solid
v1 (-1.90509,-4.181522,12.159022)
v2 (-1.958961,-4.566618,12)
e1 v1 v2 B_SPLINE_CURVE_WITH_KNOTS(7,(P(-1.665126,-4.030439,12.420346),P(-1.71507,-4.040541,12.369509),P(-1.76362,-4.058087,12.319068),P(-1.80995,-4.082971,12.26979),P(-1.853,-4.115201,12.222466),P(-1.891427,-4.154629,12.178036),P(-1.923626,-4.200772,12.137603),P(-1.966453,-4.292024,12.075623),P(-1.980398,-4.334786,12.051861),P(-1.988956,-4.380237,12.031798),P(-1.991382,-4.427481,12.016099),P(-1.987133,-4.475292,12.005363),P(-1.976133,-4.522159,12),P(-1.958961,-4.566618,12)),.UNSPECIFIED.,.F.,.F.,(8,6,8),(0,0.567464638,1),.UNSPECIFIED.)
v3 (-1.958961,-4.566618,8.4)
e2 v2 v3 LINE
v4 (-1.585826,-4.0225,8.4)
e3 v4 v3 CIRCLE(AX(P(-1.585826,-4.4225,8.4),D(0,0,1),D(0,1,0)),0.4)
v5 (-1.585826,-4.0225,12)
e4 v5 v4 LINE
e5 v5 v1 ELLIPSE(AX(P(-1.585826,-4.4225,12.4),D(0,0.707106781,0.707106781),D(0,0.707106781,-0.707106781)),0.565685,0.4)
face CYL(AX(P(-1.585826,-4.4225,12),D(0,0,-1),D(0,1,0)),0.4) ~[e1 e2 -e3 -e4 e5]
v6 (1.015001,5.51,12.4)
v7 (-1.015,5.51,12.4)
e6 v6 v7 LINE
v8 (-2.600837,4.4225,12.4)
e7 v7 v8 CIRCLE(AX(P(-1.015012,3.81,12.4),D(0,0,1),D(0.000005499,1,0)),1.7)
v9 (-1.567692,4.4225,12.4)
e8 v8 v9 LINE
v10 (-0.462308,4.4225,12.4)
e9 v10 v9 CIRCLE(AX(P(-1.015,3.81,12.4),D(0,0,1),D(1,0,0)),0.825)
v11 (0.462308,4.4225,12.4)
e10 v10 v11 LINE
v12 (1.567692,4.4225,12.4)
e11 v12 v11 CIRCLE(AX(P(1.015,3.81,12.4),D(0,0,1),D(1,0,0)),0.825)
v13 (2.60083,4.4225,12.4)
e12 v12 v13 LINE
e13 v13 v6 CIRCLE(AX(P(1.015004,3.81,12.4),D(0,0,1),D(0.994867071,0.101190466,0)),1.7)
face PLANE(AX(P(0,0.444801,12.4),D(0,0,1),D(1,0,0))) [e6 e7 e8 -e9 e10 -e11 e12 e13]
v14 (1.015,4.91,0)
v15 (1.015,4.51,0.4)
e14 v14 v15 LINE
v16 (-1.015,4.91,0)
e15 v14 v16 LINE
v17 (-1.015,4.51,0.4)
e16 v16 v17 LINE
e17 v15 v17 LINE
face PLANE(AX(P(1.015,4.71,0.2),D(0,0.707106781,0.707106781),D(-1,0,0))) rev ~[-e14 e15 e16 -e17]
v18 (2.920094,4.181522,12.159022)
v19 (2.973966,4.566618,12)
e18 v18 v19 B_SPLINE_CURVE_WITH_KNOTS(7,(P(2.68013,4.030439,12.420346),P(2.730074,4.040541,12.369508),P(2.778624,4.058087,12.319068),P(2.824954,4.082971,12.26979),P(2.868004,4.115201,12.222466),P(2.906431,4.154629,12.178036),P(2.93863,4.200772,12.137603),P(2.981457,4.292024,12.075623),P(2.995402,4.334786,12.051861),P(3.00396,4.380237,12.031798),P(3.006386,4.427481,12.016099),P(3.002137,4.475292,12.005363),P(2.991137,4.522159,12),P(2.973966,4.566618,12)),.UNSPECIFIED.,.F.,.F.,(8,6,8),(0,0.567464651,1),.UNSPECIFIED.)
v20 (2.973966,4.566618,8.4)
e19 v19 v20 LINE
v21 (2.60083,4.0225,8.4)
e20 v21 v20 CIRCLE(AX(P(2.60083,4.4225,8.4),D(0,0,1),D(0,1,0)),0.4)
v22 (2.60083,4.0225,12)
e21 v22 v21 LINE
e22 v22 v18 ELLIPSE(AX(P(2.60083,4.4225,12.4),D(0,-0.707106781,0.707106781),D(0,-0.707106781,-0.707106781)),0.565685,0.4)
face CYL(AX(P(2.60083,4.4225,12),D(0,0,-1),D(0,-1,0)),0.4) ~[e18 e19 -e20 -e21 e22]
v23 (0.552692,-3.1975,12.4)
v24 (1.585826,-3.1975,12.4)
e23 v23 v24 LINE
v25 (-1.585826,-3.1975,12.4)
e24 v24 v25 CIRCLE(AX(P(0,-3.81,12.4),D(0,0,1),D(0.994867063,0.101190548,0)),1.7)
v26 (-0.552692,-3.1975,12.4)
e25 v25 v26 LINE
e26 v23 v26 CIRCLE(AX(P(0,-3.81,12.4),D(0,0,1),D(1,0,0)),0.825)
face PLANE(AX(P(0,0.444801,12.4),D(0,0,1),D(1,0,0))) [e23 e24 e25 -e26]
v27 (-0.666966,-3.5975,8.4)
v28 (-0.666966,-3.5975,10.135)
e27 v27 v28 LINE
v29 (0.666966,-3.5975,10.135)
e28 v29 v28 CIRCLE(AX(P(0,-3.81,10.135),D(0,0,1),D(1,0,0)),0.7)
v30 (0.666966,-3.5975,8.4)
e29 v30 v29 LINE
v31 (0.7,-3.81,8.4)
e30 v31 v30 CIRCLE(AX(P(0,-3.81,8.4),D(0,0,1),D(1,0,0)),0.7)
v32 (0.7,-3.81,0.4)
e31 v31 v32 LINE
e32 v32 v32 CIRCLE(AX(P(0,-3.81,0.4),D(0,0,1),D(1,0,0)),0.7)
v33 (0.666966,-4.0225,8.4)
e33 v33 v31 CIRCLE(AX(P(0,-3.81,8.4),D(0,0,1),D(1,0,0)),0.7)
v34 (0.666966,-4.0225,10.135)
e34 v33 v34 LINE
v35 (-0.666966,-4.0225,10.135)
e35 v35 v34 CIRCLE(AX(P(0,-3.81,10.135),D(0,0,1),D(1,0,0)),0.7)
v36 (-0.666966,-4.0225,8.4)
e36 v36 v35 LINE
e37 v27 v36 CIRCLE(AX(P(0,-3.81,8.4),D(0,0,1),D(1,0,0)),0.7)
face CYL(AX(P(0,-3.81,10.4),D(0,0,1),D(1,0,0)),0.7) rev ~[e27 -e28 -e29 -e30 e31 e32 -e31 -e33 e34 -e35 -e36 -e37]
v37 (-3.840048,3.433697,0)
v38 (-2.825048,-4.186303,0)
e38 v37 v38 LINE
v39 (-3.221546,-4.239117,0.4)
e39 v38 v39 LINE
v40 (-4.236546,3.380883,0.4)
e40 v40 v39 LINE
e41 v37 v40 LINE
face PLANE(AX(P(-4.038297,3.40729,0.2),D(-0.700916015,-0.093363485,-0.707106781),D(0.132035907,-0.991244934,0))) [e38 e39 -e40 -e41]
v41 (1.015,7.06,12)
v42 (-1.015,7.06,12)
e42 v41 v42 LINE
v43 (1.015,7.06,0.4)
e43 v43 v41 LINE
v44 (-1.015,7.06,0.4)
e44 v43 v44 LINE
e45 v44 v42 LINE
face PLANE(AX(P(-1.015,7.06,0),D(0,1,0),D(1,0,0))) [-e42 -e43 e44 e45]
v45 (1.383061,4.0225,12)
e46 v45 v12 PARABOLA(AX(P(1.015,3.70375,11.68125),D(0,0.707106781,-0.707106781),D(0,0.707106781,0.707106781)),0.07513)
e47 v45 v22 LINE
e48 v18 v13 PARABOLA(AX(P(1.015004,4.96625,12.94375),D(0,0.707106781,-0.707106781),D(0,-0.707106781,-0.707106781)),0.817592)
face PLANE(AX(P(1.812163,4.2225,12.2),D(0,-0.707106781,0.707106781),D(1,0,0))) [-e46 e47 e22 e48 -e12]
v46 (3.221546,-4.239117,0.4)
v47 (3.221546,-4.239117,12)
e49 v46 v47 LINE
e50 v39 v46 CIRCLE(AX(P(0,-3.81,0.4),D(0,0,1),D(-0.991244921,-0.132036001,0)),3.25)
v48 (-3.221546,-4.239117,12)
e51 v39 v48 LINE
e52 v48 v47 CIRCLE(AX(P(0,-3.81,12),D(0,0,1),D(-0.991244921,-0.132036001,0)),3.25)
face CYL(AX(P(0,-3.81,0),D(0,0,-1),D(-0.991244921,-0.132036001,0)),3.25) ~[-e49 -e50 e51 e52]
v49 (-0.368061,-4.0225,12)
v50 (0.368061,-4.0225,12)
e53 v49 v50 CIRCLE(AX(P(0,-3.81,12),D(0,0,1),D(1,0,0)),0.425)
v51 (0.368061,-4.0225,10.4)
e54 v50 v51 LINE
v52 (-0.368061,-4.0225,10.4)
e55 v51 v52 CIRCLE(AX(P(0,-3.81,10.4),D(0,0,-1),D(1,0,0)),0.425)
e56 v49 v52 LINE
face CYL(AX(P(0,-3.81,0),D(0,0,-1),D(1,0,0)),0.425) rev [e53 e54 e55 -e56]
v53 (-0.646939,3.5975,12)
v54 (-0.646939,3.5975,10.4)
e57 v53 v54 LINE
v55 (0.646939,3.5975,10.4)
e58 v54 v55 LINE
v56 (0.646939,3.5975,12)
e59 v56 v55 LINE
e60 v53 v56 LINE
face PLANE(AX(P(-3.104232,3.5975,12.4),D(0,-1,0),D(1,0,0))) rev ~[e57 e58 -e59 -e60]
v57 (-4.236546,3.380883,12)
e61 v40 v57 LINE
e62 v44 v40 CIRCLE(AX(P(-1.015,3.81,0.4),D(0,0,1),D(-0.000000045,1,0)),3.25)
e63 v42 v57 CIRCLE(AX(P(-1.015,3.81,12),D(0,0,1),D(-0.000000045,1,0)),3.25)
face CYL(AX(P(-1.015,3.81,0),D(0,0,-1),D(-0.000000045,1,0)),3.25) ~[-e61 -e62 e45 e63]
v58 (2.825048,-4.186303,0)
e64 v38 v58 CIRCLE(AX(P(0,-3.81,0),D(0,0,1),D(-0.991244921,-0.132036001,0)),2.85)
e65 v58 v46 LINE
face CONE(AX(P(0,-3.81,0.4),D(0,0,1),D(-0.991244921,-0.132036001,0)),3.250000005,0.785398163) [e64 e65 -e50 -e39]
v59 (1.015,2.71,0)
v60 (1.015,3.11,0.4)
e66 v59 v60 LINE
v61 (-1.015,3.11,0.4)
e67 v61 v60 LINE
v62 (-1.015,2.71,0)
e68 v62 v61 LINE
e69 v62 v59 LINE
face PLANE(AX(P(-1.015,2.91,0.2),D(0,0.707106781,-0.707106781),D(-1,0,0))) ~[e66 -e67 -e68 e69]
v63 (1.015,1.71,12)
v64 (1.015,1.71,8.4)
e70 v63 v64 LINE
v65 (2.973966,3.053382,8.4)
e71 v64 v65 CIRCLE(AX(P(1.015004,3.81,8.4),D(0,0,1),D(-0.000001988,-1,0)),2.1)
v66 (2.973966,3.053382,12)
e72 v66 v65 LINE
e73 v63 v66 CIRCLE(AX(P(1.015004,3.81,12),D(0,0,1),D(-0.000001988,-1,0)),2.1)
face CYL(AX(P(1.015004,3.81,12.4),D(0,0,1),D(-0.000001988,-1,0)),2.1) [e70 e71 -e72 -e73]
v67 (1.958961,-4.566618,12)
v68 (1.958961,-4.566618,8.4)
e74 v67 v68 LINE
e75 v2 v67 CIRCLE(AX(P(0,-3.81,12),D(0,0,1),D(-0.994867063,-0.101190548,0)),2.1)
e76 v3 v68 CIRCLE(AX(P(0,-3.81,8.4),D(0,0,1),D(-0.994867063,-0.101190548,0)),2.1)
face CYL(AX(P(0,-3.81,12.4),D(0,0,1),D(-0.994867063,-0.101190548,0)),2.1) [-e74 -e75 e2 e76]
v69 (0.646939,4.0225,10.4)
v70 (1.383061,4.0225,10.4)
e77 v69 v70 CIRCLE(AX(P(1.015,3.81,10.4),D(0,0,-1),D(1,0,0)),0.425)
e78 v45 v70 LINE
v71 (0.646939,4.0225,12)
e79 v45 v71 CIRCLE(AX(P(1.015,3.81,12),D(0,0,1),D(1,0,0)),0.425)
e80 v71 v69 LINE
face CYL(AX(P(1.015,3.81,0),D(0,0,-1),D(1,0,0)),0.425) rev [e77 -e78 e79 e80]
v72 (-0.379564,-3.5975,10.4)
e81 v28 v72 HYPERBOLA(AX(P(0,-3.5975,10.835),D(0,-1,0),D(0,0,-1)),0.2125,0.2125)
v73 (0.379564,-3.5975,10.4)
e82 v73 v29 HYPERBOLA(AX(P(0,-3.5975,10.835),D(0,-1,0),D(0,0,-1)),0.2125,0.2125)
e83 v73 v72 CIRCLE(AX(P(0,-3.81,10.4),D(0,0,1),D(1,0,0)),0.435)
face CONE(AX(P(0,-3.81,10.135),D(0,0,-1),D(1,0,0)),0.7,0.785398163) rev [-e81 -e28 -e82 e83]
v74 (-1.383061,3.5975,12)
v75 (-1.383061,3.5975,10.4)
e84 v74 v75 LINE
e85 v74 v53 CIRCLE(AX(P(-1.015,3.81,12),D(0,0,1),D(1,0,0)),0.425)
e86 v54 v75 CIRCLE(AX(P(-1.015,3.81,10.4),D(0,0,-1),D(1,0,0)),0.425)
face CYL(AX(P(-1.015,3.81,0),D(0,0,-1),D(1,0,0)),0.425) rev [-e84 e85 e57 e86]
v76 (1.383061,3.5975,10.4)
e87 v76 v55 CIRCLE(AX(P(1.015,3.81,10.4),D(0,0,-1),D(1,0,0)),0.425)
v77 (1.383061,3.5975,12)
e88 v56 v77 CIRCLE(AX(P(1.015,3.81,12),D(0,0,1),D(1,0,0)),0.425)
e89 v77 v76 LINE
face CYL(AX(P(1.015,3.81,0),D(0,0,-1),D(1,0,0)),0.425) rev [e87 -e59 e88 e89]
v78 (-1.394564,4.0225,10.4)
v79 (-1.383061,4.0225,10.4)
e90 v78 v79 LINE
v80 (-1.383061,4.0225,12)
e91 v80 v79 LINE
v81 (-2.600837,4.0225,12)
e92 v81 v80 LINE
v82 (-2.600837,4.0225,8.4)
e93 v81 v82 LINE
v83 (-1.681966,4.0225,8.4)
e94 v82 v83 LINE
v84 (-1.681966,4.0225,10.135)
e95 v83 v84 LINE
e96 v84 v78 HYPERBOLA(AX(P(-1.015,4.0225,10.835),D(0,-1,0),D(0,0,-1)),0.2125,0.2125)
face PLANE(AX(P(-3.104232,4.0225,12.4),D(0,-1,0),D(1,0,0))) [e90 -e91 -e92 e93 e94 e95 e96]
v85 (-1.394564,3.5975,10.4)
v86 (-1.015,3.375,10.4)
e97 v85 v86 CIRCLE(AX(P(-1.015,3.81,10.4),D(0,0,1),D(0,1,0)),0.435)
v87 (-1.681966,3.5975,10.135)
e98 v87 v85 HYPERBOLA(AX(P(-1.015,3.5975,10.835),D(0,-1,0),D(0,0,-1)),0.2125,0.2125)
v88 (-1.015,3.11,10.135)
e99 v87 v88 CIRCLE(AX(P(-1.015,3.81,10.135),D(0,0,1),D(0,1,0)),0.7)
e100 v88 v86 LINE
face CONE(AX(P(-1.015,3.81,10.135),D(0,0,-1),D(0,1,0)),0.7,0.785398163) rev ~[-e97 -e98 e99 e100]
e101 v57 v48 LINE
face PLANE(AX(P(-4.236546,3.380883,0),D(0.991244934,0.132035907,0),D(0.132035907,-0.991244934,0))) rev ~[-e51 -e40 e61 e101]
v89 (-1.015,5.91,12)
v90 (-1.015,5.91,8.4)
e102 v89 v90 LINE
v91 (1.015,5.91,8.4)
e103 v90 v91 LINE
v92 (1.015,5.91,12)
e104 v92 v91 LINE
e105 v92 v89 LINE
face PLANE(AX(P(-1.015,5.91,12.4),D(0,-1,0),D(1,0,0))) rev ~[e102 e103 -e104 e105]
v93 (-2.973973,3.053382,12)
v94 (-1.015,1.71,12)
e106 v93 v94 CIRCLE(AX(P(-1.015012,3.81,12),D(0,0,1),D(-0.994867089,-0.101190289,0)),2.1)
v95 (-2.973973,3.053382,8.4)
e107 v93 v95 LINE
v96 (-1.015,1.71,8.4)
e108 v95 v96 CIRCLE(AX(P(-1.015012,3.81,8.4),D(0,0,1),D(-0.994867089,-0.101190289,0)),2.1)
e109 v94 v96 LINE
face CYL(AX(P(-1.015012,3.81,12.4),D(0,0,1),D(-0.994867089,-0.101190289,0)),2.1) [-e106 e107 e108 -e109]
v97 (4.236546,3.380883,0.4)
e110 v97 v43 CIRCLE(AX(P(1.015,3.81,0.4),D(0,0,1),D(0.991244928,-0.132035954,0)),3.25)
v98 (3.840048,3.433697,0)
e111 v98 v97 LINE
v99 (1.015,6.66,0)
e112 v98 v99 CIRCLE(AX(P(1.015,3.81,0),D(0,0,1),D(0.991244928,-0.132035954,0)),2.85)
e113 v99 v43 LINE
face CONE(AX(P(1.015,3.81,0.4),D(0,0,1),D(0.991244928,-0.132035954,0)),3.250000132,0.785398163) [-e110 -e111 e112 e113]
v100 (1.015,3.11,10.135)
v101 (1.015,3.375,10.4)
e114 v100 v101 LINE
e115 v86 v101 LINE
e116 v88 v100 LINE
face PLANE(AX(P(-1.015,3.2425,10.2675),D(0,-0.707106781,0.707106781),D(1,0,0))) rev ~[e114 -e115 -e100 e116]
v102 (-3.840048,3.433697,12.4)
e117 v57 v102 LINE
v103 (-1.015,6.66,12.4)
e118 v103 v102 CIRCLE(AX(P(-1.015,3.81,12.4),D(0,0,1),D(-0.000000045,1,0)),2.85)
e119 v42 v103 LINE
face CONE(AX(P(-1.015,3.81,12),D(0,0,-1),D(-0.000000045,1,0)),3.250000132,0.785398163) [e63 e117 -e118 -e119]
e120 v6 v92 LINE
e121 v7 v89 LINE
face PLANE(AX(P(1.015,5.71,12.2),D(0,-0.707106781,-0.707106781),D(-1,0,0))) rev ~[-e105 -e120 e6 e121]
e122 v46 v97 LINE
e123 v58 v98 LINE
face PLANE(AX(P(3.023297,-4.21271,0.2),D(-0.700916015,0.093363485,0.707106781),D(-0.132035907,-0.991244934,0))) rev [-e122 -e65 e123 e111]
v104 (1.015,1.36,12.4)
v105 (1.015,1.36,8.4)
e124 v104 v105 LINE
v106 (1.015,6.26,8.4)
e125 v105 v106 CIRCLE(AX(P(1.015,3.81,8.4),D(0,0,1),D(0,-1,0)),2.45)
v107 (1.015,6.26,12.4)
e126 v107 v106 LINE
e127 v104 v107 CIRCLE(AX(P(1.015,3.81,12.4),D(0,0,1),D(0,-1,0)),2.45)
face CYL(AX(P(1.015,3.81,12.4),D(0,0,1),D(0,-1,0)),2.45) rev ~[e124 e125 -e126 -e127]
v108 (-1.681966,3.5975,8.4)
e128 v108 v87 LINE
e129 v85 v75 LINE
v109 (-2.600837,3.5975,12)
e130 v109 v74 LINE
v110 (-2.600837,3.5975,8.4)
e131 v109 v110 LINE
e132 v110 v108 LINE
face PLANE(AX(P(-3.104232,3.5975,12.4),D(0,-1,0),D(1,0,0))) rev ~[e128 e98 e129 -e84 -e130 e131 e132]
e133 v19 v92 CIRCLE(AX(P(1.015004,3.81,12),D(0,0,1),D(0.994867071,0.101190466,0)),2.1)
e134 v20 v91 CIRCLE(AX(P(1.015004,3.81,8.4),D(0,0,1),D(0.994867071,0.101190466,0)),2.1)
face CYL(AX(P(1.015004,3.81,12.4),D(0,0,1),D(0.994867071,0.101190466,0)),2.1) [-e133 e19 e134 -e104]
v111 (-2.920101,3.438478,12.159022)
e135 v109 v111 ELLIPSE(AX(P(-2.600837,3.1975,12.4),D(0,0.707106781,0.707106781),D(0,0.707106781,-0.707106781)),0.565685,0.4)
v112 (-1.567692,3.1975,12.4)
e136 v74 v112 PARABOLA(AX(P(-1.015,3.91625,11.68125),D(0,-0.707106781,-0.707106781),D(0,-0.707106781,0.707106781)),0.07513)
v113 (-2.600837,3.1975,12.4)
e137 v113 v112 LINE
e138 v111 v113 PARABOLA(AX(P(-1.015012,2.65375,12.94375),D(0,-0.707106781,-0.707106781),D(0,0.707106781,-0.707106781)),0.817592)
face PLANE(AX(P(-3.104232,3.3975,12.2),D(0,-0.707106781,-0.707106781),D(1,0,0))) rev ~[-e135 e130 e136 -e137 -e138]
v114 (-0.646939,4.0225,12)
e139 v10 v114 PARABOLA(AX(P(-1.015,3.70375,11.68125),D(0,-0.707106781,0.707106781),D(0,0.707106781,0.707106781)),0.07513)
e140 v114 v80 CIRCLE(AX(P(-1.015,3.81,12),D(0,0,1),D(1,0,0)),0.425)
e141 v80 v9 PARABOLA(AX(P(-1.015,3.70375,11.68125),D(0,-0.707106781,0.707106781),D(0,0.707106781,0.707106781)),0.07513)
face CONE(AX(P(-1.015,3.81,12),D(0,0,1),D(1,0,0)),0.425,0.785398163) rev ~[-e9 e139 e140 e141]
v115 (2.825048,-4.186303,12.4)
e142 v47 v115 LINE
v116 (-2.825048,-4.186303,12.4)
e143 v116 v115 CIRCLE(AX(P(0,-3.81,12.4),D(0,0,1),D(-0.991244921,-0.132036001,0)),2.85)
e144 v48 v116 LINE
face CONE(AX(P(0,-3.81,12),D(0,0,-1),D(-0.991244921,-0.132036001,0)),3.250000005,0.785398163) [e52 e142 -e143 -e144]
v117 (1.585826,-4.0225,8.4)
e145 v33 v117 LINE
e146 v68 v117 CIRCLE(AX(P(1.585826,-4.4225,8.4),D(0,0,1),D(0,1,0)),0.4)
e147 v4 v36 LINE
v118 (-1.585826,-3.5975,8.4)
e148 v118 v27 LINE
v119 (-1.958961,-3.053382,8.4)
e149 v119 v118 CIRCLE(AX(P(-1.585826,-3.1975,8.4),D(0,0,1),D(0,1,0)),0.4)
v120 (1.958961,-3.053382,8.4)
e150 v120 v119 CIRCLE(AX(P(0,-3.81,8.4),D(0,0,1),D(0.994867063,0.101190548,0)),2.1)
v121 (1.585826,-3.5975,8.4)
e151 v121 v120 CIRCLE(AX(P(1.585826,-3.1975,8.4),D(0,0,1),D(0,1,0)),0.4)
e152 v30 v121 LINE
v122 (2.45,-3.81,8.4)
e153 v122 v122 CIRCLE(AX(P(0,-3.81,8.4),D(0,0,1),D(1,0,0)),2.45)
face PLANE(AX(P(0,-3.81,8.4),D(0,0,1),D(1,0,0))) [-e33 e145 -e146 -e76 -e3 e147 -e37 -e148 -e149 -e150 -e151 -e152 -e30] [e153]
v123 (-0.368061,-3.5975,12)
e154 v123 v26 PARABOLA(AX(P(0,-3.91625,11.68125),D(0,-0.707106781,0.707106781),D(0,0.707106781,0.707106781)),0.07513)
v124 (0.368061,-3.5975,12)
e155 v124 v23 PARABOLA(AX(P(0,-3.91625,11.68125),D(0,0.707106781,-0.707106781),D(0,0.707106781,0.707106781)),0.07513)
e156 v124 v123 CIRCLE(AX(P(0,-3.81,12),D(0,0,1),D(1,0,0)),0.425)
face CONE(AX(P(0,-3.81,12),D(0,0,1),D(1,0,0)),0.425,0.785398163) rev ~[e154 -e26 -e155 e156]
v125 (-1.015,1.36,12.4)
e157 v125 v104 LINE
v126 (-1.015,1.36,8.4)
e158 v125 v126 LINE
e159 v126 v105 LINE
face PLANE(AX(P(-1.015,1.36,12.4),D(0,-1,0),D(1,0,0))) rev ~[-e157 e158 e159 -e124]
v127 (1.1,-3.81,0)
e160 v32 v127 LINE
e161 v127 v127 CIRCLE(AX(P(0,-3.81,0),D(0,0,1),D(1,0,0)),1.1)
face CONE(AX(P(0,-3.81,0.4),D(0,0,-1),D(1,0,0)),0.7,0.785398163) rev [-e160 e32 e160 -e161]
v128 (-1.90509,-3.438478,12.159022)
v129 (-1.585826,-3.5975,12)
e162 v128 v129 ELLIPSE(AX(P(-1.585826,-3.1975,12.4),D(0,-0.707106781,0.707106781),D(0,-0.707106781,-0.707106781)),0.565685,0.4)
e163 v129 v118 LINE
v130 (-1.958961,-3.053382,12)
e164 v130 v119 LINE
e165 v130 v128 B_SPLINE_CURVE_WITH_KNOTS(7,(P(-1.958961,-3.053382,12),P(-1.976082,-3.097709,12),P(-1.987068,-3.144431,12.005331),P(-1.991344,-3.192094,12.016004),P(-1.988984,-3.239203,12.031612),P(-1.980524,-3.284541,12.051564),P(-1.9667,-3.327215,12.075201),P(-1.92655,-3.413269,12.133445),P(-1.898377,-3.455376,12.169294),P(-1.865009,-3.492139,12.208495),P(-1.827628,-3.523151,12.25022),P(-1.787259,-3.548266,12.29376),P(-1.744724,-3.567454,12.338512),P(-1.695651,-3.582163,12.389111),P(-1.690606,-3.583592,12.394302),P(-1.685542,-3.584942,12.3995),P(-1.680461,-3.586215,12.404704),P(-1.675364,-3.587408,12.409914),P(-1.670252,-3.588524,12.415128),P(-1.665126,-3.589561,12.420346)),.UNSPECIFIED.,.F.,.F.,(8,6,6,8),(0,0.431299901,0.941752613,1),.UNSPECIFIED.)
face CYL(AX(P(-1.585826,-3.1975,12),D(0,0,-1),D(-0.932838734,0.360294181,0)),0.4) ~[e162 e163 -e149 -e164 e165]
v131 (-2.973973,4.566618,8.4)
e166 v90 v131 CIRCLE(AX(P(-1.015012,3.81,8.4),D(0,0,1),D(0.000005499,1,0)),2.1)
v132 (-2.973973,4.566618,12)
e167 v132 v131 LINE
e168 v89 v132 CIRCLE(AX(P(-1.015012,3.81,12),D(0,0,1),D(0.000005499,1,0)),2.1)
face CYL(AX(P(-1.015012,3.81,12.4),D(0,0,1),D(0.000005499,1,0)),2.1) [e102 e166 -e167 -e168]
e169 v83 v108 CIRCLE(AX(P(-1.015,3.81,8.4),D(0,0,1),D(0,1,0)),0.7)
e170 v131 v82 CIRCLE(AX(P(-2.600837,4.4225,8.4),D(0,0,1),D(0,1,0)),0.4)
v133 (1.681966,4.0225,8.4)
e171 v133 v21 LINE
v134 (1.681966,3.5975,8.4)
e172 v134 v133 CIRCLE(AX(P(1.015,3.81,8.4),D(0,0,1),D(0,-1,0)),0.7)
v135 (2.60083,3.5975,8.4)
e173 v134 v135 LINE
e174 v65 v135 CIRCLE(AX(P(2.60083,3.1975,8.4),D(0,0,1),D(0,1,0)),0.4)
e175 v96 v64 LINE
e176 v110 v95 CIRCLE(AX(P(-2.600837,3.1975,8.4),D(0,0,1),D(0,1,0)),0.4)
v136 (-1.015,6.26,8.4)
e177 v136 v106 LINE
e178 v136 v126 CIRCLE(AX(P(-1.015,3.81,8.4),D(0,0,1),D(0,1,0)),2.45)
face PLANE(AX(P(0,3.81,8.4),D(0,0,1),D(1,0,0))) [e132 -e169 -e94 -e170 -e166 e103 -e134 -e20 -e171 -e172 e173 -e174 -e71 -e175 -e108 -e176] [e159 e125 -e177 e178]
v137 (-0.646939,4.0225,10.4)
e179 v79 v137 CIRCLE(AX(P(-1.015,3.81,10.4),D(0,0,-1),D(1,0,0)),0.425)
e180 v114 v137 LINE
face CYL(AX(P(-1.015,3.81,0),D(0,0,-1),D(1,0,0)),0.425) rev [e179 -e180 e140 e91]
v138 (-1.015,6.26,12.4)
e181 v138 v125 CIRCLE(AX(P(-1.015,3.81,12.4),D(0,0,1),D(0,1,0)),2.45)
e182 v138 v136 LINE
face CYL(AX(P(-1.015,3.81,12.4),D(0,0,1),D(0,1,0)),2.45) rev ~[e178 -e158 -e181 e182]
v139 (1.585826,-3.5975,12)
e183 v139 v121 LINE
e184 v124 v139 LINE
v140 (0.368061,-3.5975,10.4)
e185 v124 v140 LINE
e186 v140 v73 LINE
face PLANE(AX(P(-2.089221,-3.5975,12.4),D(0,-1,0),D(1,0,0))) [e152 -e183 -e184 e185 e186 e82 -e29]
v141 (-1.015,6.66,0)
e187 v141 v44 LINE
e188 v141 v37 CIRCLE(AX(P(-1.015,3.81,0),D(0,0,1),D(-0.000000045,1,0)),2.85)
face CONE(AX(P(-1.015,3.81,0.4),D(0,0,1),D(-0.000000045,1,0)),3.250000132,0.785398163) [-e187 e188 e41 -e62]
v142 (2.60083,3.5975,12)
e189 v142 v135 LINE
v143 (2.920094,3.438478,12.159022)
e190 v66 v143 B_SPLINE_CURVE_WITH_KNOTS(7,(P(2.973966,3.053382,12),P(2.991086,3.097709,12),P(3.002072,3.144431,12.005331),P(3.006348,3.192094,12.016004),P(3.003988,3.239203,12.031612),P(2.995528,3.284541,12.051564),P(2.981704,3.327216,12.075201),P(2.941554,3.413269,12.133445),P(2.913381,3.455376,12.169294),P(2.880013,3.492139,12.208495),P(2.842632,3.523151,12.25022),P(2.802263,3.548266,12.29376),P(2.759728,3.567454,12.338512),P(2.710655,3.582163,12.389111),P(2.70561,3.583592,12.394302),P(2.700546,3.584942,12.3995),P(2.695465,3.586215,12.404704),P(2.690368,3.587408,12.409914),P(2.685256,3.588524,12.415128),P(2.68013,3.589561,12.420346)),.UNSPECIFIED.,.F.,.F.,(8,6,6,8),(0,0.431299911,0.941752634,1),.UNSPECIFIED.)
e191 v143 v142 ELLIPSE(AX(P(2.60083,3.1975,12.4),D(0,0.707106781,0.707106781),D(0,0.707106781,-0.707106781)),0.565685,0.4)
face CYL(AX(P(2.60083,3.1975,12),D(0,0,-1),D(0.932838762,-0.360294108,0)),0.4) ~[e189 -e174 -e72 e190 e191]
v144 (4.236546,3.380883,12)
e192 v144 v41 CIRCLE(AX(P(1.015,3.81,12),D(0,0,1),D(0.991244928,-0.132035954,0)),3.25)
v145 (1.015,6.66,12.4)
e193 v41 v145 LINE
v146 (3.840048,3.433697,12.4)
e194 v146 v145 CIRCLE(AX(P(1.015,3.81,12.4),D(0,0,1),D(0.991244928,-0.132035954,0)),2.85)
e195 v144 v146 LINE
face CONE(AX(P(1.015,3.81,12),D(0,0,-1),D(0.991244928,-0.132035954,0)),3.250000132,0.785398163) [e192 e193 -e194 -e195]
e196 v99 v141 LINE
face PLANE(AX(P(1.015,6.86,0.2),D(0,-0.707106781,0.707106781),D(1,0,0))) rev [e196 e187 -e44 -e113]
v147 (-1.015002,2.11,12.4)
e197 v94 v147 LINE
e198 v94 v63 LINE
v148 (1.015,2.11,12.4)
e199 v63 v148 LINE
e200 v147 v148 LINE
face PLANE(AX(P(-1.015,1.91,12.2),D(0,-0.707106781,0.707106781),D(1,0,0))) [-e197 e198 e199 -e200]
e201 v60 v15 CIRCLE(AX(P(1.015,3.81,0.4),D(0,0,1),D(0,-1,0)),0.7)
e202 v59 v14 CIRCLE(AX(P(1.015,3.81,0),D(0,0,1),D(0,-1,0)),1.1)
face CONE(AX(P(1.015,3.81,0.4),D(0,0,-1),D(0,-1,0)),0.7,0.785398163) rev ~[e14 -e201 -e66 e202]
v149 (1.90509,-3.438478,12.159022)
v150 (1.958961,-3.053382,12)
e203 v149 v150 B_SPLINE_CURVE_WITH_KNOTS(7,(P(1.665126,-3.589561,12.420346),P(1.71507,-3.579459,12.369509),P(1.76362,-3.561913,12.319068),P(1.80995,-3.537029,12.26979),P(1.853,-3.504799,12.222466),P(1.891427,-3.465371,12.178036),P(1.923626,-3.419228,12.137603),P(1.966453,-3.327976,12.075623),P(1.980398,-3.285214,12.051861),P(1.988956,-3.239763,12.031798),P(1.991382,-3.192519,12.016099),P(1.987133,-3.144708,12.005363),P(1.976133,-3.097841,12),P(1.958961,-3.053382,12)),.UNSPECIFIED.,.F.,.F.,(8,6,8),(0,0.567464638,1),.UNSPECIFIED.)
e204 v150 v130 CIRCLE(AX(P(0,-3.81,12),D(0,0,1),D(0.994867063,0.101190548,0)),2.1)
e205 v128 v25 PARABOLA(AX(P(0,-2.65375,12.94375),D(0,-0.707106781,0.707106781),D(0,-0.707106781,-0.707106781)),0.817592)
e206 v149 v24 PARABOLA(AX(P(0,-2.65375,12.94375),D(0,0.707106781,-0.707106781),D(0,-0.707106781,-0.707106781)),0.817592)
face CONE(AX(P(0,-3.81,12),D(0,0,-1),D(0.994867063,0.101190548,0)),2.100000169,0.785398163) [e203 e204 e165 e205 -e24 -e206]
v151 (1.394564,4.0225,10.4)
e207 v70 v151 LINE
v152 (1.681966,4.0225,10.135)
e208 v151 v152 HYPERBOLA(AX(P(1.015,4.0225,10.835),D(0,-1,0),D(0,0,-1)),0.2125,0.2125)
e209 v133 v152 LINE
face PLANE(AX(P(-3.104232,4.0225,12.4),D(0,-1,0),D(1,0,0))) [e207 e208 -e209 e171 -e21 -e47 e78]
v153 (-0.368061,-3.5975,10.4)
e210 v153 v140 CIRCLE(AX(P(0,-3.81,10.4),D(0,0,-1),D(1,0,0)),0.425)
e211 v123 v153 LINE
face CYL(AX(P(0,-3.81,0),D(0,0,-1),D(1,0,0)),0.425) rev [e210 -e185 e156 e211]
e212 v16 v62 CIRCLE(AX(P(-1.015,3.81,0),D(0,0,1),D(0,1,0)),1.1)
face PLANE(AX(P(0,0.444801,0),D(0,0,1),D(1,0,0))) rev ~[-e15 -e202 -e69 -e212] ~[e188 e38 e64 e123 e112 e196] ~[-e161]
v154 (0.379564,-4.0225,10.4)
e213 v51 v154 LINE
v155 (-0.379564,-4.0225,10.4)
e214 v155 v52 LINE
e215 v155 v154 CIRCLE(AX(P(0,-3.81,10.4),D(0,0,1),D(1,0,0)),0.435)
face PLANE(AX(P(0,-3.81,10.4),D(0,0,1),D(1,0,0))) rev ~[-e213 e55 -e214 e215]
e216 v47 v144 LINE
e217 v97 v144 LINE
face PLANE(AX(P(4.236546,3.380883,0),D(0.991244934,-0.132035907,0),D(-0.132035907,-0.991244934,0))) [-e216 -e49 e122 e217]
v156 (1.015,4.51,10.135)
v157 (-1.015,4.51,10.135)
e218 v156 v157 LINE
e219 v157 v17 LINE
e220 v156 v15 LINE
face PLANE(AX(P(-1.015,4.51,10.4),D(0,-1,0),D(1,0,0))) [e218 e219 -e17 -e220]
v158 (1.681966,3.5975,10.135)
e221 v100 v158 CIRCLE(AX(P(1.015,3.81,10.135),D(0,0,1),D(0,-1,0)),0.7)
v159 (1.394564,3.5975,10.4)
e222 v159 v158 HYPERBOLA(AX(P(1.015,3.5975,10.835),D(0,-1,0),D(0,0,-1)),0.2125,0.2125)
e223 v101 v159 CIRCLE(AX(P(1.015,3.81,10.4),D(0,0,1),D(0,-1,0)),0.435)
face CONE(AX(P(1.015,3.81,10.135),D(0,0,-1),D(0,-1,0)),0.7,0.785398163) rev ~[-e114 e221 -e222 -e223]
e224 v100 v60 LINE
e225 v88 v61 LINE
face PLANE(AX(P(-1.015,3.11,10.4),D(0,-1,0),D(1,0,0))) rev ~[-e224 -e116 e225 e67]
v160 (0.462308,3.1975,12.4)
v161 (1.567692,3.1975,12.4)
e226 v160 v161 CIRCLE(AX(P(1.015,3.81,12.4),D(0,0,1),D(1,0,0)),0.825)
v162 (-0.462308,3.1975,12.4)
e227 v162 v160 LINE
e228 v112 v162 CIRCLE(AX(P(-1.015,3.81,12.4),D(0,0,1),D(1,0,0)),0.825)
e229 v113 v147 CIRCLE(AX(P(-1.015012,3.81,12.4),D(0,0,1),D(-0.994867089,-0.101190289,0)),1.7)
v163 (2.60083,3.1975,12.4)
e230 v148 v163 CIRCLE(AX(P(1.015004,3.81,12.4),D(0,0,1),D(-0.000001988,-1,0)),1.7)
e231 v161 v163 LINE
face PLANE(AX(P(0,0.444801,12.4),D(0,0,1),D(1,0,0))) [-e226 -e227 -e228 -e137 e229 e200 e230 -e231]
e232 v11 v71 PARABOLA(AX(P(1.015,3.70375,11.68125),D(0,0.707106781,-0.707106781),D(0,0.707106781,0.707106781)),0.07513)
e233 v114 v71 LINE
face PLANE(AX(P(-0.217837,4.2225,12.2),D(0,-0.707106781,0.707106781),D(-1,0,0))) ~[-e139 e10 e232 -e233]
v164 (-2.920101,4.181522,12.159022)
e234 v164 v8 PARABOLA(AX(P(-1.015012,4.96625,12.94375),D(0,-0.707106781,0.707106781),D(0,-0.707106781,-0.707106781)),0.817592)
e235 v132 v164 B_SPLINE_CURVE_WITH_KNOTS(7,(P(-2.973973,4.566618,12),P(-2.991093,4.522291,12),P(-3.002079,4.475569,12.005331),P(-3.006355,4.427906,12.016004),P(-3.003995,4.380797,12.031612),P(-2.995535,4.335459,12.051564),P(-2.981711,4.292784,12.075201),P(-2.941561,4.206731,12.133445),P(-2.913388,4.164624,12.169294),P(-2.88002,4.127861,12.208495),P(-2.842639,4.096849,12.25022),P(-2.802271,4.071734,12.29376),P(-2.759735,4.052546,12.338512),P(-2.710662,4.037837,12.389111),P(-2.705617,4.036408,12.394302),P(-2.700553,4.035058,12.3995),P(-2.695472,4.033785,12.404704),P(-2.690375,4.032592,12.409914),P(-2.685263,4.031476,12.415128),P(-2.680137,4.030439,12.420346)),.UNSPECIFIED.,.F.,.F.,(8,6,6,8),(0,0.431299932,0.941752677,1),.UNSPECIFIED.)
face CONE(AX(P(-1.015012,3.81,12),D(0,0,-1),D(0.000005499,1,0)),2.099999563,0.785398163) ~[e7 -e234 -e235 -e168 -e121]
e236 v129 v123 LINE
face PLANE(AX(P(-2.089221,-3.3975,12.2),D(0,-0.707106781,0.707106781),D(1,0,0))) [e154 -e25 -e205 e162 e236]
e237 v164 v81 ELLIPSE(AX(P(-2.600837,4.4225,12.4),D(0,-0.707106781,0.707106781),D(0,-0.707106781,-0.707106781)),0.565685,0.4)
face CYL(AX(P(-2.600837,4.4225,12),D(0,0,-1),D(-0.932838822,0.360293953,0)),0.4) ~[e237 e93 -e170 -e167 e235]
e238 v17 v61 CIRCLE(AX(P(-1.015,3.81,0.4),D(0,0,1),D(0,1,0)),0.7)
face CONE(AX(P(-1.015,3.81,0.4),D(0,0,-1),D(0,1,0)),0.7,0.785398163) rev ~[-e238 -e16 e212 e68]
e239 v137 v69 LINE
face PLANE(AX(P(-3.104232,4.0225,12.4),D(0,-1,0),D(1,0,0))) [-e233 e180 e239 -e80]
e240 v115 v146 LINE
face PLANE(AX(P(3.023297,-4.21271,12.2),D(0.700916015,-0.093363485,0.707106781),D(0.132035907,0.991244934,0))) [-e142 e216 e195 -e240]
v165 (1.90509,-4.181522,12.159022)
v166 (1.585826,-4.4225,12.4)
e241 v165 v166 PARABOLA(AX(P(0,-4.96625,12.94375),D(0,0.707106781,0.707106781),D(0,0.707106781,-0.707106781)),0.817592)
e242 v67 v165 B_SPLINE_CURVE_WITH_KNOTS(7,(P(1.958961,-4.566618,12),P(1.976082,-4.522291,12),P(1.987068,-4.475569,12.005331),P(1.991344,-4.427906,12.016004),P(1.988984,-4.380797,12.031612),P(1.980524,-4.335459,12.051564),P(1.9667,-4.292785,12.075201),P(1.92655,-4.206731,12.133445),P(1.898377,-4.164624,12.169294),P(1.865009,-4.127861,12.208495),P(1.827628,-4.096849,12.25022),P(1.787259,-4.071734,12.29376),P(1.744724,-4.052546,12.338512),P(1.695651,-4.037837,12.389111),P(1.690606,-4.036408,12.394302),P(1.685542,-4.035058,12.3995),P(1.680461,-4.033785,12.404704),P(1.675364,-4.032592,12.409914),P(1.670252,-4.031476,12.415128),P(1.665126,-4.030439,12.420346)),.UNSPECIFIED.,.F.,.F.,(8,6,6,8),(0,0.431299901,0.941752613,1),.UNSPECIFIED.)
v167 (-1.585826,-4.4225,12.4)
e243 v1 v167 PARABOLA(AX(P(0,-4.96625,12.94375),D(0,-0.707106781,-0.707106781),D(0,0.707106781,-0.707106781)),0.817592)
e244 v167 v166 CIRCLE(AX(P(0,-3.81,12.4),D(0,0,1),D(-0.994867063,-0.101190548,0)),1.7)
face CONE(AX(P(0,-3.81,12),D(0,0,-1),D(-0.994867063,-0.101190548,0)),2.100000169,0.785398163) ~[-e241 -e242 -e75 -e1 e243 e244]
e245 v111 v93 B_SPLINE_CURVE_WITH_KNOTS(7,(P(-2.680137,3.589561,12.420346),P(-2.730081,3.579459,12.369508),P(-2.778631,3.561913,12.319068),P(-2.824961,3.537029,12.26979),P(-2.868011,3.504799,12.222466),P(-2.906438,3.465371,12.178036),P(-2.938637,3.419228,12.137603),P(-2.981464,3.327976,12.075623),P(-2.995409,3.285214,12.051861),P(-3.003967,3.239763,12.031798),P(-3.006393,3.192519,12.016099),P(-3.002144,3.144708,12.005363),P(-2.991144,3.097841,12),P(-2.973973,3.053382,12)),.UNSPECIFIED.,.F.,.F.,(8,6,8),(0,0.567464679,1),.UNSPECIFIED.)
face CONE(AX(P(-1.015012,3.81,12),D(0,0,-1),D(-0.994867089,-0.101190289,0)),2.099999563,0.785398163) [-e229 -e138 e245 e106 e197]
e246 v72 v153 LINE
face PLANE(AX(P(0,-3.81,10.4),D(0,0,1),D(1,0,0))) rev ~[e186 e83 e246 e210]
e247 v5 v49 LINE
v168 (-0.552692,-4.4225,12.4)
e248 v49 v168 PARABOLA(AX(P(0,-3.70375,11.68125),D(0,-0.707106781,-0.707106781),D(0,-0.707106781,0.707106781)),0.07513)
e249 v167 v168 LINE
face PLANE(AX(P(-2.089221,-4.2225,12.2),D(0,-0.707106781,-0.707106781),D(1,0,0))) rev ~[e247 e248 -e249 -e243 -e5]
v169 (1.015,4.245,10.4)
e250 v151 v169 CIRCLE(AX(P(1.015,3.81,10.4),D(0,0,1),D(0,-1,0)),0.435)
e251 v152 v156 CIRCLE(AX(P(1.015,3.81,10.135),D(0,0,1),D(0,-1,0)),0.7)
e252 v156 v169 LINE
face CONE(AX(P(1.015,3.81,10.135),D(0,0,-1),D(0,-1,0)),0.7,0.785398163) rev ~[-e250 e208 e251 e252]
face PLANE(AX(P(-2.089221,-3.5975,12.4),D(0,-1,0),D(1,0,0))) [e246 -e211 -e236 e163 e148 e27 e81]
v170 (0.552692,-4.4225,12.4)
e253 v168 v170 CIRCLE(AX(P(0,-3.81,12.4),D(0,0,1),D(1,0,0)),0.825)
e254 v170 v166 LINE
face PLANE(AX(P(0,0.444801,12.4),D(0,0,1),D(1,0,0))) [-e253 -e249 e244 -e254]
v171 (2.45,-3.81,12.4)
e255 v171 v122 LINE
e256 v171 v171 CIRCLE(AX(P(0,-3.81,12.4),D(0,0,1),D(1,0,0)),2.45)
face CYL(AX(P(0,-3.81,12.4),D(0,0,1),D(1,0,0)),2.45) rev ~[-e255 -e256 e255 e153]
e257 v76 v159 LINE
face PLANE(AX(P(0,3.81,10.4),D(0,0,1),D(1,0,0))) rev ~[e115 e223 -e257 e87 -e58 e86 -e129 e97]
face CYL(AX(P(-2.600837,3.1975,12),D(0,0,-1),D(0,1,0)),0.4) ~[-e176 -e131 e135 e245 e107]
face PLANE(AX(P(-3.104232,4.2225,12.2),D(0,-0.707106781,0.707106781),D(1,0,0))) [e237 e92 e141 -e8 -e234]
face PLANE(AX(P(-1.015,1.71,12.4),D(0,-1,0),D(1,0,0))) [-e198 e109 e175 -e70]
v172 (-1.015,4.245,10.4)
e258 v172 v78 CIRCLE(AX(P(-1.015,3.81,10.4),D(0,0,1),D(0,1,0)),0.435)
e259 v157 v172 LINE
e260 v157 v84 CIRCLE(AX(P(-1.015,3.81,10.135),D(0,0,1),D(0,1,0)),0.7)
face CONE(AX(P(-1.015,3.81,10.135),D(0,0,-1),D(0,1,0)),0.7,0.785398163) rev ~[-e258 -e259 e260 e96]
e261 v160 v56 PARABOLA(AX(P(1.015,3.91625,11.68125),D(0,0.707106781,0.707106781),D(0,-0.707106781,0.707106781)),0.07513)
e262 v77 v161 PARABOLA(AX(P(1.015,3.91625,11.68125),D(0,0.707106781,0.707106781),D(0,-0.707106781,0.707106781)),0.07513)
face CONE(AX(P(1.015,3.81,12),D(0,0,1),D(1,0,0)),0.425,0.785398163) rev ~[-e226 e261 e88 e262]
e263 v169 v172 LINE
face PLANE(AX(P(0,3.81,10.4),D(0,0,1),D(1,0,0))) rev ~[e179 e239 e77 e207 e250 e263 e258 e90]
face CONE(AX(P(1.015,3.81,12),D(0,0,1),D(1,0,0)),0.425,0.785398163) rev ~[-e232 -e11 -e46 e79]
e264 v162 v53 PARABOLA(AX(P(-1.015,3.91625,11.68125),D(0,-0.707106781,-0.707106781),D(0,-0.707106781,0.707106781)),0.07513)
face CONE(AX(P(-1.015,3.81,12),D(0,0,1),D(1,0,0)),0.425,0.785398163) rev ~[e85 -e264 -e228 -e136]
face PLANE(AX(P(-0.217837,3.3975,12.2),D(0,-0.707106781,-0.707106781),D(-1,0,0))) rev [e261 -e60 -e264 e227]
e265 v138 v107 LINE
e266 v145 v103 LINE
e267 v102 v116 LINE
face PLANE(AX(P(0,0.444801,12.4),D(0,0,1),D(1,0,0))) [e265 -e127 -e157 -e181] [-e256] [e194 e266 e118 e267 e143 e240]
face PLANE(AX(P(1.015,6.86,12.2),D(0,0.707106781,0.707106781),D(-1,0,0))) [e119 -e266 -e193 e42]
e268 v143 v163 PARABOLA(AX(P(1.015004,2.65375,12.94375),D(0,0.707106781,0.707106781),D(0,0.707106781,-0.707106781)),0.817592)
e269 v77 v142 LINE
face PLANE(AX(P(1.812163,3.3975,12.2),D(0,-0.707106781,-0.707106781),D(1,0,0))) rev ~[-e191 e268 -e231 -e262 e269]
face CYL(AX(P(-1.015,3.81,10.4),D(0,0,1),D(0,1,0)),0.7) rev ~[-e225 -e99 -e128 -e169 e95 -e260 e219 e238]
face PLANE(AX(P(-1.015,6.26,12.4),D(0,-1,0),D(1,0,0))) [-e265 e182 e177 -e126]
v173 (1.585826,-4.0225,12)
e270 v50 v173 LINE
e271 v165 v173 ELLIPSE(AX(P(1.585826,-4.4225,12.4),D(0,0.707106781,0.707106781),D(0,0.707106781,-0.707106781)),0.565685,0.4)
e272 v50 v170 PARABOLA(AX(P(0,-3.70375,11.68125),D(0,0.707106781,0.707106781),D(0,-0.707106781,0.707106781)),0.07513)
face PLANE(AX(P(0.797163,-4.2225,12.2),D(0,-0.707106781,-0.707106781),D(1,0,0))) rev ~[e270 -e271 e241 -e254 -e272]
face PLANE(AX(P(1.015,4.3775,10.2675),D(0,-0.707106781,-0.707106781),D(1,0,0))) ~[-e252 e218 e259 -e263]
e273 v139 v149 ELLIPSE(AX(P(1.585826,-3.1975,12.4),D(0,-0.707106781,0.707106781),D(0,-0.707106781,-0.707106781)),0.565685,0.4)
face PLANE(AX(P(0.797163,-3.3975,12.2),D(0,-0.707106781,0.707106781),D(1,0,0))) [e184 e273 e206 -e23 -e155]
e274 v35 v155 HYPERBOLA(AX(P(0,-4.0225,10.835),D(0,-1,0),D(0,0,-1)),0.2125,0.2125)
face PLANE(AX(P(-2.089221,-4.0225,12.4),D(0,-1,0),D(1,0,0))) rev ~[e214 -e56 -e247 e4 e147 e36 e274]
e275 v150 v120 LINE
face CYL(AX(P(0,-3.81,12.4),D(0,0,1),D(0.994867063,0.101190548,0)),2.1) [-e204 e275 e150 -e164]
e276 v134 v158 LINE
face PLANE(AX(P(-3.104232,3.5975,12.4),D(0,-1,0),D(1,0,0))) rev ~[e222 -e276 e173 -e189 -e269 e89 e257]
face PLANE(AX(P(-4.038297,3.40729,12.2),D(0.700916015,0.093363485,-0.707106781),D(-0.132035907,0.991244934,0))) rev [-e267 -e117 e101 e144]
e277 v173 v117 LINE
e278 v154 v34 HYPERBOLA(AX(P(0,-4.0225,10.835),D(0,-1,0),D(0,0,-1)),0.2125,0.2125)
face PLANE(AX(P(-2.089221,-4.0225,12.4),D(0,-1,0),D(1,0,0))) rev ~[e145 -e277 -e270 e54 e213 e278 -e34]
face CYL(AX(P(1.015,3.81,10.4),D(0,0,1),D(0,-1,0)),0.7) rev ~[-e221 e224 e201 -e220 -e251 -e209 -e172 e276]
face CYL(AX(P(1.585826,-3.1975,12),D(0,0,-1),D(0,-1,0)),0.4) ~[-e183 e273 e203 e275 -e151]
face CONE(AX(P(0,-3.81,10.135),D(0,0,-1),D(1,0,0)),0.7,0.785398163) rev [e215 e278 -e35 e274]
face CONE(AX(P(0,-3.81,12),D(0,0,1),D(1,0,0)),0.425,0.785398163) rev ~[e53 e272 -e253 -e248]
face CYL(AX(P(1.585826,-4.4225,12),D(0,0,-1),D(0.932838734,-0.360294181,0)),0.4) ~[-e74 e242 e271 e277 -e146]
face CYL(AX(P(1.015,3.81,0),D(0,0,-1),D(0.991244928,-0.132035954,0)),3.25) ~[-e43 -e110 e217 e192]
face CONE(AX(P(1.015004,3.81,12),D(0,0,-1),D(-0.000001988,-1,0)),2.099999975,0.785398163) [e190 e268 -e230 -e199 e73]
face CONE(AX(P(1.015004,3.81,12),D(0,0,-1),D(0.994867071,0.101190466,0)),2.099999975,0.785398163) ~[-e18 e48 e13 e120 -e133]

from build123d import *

# Parameters (mm, degrees)
SKETCH002_R     = 0.425
PAD001_DEPTH    = 12.4
CHAMFER001_SIZE = 0.4
SKETCH003_R     = 0.7
POCKET_DEPTH    = 10.401
CHAMFER_SIZE    = 0.265
SKETCH004_R     = 2.45
POCKET001_DEPTH = 4
CHAMFER002_SIZE = 0.4
FILLET_R        = 0.4


with BuildPart() as part:
    # Sketch002 → Pad001 (new body)
    with BuildSketch(Plane.XY):
        with BuildLine():
            ThreePointArc((-1.015, 7.06), (-3.46011, 5.951013), (-4.236546, 3.380883))
            Line((-4.236546, 3.380883), (-3.221546, -4.239117))
            ThreePointArc((-3.221546, -4.239117), (0, -7.06), (3.221546, -4.239117))
            Line((4.236546, 3.380883), (3.221546, -4.239117))
            ThreePointArc((4.236546, 3.380883), (3.46011, 5.951013), (1.015, 7.06))
            Line((-1.015, 7.06), (1.015, 7.06))
        make_face()
        with Locations((-1.015, 3.81)):
            Circle(SKETCH002_R, mode=Mode.SUBTRACT)
        with Locations((1.015, 3.81)):
            Circle(SKETCH002_R, mode=Mode.SUBTRACT)
        with Locations((0, -3.81)):
            Circle(SKETCH002_R, mode=Mode.SUBTRACT)
    extrude(amount=PAD001_DEPTH)

    # Chamfer001
    chamfer001_edges = [part.edges().sort_by_distance(p)[0] for p in [
        (-1.44, 3.81, 12.4),
        (0.59, 3.81, 12.4),
        (-0.425, -3.81, 12.4),
    ]]
    chamfer(chamfer001_edges, length=CHAMFER001_SIZE)

    # Sketch003 → Pocket (cut, through all)
    with BuildSketch(Plane.XY.offset(10.4)):
        with Locations((0, -3.81)):
            Circle(SKETCH003_R)
        with BuildLine():
            ThreePointArc((-1.015, 4.51), (-1.715, 3.81), (-1.015, 3.11))
            Line((-1.015, 3.11), (1.015, 3.11))
            ThreePointArc((1.015, 3.11), (1.715, 3.81), (1.015, 4.51))
            Line((-1.015, 4.51), (1.015, 4.51))
        make_face()
    extrude(amount=-POCKET_DEPTH, mode=Mode.SUBTRACT)

    # Chamfer
    chamfer_edges = [part.edges().sort_by_distance(p)[0] for p in [
        (1.715, 3.81, 10.4),
        (-0.7, -3.81, 10.4),
    ]]
    chamfer(chamfer_edges, length=CHAMFER_SIZE)

    # Sketch004 → Pocket001 (cut)
    with BuildSketch(Plane.XY.offset(12.4)):
        with Locations((0, -3.81)):
            Circle(SKETCH004_R)
        with BuildLine():
            ThreePointArc((2.089221, -3.5975), (0, -1.71), (-2.089221, -3.5975))
            Line((-2.089221, -3.5975), (2.089221, -3.5975))
        make_face(mode=Mode.SUBTRACT)
        with BuildLine():
            ThreePointArc((-2.089221, -4.0225), (0, -5.91), (2.089221, -4.0225))
            Line((-2.089221, -4.0225), (2.089221, -4.0225))
        make_face(mode=Mode.SUBTRACT)
        with BuildLine():
            ThreePointArc((-1.015, 6.26), (-3.465, 3.81), (-1.015, 1.36))
            Line((-1.015, 1.36), (1.015, 1.36))
            ThreePointArc((1.015, 1.36), (3.465, 3.81), (1.015, 6.26))
            Line((-1.015, 6.26), (1.015, 6.26))
        make_face()
        with BuildLine():
            Line((-1.015, 1.71), (1.015, 1.71))
            ThreePointArc((1.015, 1.71), (2.422793, 2.251754), (3.104225, 3.5975))
            Line((-3.104232, 3.5975), (3.104225, 3.5975))
            ThreePointArc((-3.104232, 3.5975), (-2.422798, 2.251752), (-1.015, 1.71))
        make_face(mode=Mode.SUBTRACT)
        with BuildLine():
            Line((-1.015, 5.91), (1.015, 5.91))
            ThreePointArc((3.104225, 4.0225), (2.422793, 5.368246), (1.015, 5.91))
            Line((-3.104232, 4.0225), (3.104225, 4.0225))
            ThreePointArc((-1.015, 5.91), (-2.422798, 5.368248), (-3.104232, 4.0225))
        make_face(mode=Mode.SUBTRACT)
    extrude(amount=-POCKET001_DEPTH, mode=Mode.SUBTRACT)

    # Chamfer002
    chamfer002_edges = [part.edges().sort_by_distance(p)[0] for p in [
        (-2.458197, 4.0225, 12.4),
        (0, 4.0225, 12.4),
        (2.458194, 4.0225, 12.4),
        (2.422793, 5.368246, 12.4),
        (2.422793, 2.251754, 12.4),
        (2.458194, 3.5975, 12.4),
        (0, 3.5975, 12.4),
        (-2.458197, 3.5975, 12.4),
        (-1.443192, -3.5975, 12.4),
        (1.443192, -3.5975, 12.4),
        (0, -1.71, 12.4),
        (1.443192, -4.0225, 12.4),
        (-1.443192, -4.0225, 12.4),
        (0, -5.91, 12.4),
        (3.46011, 5.951013, 0),
        (3.729046, -0.429117, 0),
        (0, 7.06, 0),
        (0, -7.06, 0),
        (-3.46011, 5.951013, 0),
        (-3.729046, -0.429117, 0),
        (-0.7, -3.81, 0),
        (-1.715, 3.81, 0),
        (0, 3.11, 0),
        (1.715, 3.81, 0),
        (0, 4.51, 0),
        (0, -7.06, 12.4),
    ]]
    chamfer(chamfer002_edges, length=CHAMFER002_SIZE)

    # Fillet
    fillet_edges = [part.edges().sort_by_distance(p)[0] for p in [
        (3.104225, 4.0225, 10.2),
        (-3.104232, 4.0225, 10.2),
        (-3.104232, 3.5975, 10.2),
        (-2.089221, -3.5975, 10.2),
        (-2.089221, -4.0225, 10.2),
        (3.104225, 3.5975, 10.2),
        (2.089221, -4.0225, 10.2),
        (2.089221, -3.5975, 10.2),
    ]]
    fillet(fillet_edges, radius=FILLET_R)


solid = part.part
